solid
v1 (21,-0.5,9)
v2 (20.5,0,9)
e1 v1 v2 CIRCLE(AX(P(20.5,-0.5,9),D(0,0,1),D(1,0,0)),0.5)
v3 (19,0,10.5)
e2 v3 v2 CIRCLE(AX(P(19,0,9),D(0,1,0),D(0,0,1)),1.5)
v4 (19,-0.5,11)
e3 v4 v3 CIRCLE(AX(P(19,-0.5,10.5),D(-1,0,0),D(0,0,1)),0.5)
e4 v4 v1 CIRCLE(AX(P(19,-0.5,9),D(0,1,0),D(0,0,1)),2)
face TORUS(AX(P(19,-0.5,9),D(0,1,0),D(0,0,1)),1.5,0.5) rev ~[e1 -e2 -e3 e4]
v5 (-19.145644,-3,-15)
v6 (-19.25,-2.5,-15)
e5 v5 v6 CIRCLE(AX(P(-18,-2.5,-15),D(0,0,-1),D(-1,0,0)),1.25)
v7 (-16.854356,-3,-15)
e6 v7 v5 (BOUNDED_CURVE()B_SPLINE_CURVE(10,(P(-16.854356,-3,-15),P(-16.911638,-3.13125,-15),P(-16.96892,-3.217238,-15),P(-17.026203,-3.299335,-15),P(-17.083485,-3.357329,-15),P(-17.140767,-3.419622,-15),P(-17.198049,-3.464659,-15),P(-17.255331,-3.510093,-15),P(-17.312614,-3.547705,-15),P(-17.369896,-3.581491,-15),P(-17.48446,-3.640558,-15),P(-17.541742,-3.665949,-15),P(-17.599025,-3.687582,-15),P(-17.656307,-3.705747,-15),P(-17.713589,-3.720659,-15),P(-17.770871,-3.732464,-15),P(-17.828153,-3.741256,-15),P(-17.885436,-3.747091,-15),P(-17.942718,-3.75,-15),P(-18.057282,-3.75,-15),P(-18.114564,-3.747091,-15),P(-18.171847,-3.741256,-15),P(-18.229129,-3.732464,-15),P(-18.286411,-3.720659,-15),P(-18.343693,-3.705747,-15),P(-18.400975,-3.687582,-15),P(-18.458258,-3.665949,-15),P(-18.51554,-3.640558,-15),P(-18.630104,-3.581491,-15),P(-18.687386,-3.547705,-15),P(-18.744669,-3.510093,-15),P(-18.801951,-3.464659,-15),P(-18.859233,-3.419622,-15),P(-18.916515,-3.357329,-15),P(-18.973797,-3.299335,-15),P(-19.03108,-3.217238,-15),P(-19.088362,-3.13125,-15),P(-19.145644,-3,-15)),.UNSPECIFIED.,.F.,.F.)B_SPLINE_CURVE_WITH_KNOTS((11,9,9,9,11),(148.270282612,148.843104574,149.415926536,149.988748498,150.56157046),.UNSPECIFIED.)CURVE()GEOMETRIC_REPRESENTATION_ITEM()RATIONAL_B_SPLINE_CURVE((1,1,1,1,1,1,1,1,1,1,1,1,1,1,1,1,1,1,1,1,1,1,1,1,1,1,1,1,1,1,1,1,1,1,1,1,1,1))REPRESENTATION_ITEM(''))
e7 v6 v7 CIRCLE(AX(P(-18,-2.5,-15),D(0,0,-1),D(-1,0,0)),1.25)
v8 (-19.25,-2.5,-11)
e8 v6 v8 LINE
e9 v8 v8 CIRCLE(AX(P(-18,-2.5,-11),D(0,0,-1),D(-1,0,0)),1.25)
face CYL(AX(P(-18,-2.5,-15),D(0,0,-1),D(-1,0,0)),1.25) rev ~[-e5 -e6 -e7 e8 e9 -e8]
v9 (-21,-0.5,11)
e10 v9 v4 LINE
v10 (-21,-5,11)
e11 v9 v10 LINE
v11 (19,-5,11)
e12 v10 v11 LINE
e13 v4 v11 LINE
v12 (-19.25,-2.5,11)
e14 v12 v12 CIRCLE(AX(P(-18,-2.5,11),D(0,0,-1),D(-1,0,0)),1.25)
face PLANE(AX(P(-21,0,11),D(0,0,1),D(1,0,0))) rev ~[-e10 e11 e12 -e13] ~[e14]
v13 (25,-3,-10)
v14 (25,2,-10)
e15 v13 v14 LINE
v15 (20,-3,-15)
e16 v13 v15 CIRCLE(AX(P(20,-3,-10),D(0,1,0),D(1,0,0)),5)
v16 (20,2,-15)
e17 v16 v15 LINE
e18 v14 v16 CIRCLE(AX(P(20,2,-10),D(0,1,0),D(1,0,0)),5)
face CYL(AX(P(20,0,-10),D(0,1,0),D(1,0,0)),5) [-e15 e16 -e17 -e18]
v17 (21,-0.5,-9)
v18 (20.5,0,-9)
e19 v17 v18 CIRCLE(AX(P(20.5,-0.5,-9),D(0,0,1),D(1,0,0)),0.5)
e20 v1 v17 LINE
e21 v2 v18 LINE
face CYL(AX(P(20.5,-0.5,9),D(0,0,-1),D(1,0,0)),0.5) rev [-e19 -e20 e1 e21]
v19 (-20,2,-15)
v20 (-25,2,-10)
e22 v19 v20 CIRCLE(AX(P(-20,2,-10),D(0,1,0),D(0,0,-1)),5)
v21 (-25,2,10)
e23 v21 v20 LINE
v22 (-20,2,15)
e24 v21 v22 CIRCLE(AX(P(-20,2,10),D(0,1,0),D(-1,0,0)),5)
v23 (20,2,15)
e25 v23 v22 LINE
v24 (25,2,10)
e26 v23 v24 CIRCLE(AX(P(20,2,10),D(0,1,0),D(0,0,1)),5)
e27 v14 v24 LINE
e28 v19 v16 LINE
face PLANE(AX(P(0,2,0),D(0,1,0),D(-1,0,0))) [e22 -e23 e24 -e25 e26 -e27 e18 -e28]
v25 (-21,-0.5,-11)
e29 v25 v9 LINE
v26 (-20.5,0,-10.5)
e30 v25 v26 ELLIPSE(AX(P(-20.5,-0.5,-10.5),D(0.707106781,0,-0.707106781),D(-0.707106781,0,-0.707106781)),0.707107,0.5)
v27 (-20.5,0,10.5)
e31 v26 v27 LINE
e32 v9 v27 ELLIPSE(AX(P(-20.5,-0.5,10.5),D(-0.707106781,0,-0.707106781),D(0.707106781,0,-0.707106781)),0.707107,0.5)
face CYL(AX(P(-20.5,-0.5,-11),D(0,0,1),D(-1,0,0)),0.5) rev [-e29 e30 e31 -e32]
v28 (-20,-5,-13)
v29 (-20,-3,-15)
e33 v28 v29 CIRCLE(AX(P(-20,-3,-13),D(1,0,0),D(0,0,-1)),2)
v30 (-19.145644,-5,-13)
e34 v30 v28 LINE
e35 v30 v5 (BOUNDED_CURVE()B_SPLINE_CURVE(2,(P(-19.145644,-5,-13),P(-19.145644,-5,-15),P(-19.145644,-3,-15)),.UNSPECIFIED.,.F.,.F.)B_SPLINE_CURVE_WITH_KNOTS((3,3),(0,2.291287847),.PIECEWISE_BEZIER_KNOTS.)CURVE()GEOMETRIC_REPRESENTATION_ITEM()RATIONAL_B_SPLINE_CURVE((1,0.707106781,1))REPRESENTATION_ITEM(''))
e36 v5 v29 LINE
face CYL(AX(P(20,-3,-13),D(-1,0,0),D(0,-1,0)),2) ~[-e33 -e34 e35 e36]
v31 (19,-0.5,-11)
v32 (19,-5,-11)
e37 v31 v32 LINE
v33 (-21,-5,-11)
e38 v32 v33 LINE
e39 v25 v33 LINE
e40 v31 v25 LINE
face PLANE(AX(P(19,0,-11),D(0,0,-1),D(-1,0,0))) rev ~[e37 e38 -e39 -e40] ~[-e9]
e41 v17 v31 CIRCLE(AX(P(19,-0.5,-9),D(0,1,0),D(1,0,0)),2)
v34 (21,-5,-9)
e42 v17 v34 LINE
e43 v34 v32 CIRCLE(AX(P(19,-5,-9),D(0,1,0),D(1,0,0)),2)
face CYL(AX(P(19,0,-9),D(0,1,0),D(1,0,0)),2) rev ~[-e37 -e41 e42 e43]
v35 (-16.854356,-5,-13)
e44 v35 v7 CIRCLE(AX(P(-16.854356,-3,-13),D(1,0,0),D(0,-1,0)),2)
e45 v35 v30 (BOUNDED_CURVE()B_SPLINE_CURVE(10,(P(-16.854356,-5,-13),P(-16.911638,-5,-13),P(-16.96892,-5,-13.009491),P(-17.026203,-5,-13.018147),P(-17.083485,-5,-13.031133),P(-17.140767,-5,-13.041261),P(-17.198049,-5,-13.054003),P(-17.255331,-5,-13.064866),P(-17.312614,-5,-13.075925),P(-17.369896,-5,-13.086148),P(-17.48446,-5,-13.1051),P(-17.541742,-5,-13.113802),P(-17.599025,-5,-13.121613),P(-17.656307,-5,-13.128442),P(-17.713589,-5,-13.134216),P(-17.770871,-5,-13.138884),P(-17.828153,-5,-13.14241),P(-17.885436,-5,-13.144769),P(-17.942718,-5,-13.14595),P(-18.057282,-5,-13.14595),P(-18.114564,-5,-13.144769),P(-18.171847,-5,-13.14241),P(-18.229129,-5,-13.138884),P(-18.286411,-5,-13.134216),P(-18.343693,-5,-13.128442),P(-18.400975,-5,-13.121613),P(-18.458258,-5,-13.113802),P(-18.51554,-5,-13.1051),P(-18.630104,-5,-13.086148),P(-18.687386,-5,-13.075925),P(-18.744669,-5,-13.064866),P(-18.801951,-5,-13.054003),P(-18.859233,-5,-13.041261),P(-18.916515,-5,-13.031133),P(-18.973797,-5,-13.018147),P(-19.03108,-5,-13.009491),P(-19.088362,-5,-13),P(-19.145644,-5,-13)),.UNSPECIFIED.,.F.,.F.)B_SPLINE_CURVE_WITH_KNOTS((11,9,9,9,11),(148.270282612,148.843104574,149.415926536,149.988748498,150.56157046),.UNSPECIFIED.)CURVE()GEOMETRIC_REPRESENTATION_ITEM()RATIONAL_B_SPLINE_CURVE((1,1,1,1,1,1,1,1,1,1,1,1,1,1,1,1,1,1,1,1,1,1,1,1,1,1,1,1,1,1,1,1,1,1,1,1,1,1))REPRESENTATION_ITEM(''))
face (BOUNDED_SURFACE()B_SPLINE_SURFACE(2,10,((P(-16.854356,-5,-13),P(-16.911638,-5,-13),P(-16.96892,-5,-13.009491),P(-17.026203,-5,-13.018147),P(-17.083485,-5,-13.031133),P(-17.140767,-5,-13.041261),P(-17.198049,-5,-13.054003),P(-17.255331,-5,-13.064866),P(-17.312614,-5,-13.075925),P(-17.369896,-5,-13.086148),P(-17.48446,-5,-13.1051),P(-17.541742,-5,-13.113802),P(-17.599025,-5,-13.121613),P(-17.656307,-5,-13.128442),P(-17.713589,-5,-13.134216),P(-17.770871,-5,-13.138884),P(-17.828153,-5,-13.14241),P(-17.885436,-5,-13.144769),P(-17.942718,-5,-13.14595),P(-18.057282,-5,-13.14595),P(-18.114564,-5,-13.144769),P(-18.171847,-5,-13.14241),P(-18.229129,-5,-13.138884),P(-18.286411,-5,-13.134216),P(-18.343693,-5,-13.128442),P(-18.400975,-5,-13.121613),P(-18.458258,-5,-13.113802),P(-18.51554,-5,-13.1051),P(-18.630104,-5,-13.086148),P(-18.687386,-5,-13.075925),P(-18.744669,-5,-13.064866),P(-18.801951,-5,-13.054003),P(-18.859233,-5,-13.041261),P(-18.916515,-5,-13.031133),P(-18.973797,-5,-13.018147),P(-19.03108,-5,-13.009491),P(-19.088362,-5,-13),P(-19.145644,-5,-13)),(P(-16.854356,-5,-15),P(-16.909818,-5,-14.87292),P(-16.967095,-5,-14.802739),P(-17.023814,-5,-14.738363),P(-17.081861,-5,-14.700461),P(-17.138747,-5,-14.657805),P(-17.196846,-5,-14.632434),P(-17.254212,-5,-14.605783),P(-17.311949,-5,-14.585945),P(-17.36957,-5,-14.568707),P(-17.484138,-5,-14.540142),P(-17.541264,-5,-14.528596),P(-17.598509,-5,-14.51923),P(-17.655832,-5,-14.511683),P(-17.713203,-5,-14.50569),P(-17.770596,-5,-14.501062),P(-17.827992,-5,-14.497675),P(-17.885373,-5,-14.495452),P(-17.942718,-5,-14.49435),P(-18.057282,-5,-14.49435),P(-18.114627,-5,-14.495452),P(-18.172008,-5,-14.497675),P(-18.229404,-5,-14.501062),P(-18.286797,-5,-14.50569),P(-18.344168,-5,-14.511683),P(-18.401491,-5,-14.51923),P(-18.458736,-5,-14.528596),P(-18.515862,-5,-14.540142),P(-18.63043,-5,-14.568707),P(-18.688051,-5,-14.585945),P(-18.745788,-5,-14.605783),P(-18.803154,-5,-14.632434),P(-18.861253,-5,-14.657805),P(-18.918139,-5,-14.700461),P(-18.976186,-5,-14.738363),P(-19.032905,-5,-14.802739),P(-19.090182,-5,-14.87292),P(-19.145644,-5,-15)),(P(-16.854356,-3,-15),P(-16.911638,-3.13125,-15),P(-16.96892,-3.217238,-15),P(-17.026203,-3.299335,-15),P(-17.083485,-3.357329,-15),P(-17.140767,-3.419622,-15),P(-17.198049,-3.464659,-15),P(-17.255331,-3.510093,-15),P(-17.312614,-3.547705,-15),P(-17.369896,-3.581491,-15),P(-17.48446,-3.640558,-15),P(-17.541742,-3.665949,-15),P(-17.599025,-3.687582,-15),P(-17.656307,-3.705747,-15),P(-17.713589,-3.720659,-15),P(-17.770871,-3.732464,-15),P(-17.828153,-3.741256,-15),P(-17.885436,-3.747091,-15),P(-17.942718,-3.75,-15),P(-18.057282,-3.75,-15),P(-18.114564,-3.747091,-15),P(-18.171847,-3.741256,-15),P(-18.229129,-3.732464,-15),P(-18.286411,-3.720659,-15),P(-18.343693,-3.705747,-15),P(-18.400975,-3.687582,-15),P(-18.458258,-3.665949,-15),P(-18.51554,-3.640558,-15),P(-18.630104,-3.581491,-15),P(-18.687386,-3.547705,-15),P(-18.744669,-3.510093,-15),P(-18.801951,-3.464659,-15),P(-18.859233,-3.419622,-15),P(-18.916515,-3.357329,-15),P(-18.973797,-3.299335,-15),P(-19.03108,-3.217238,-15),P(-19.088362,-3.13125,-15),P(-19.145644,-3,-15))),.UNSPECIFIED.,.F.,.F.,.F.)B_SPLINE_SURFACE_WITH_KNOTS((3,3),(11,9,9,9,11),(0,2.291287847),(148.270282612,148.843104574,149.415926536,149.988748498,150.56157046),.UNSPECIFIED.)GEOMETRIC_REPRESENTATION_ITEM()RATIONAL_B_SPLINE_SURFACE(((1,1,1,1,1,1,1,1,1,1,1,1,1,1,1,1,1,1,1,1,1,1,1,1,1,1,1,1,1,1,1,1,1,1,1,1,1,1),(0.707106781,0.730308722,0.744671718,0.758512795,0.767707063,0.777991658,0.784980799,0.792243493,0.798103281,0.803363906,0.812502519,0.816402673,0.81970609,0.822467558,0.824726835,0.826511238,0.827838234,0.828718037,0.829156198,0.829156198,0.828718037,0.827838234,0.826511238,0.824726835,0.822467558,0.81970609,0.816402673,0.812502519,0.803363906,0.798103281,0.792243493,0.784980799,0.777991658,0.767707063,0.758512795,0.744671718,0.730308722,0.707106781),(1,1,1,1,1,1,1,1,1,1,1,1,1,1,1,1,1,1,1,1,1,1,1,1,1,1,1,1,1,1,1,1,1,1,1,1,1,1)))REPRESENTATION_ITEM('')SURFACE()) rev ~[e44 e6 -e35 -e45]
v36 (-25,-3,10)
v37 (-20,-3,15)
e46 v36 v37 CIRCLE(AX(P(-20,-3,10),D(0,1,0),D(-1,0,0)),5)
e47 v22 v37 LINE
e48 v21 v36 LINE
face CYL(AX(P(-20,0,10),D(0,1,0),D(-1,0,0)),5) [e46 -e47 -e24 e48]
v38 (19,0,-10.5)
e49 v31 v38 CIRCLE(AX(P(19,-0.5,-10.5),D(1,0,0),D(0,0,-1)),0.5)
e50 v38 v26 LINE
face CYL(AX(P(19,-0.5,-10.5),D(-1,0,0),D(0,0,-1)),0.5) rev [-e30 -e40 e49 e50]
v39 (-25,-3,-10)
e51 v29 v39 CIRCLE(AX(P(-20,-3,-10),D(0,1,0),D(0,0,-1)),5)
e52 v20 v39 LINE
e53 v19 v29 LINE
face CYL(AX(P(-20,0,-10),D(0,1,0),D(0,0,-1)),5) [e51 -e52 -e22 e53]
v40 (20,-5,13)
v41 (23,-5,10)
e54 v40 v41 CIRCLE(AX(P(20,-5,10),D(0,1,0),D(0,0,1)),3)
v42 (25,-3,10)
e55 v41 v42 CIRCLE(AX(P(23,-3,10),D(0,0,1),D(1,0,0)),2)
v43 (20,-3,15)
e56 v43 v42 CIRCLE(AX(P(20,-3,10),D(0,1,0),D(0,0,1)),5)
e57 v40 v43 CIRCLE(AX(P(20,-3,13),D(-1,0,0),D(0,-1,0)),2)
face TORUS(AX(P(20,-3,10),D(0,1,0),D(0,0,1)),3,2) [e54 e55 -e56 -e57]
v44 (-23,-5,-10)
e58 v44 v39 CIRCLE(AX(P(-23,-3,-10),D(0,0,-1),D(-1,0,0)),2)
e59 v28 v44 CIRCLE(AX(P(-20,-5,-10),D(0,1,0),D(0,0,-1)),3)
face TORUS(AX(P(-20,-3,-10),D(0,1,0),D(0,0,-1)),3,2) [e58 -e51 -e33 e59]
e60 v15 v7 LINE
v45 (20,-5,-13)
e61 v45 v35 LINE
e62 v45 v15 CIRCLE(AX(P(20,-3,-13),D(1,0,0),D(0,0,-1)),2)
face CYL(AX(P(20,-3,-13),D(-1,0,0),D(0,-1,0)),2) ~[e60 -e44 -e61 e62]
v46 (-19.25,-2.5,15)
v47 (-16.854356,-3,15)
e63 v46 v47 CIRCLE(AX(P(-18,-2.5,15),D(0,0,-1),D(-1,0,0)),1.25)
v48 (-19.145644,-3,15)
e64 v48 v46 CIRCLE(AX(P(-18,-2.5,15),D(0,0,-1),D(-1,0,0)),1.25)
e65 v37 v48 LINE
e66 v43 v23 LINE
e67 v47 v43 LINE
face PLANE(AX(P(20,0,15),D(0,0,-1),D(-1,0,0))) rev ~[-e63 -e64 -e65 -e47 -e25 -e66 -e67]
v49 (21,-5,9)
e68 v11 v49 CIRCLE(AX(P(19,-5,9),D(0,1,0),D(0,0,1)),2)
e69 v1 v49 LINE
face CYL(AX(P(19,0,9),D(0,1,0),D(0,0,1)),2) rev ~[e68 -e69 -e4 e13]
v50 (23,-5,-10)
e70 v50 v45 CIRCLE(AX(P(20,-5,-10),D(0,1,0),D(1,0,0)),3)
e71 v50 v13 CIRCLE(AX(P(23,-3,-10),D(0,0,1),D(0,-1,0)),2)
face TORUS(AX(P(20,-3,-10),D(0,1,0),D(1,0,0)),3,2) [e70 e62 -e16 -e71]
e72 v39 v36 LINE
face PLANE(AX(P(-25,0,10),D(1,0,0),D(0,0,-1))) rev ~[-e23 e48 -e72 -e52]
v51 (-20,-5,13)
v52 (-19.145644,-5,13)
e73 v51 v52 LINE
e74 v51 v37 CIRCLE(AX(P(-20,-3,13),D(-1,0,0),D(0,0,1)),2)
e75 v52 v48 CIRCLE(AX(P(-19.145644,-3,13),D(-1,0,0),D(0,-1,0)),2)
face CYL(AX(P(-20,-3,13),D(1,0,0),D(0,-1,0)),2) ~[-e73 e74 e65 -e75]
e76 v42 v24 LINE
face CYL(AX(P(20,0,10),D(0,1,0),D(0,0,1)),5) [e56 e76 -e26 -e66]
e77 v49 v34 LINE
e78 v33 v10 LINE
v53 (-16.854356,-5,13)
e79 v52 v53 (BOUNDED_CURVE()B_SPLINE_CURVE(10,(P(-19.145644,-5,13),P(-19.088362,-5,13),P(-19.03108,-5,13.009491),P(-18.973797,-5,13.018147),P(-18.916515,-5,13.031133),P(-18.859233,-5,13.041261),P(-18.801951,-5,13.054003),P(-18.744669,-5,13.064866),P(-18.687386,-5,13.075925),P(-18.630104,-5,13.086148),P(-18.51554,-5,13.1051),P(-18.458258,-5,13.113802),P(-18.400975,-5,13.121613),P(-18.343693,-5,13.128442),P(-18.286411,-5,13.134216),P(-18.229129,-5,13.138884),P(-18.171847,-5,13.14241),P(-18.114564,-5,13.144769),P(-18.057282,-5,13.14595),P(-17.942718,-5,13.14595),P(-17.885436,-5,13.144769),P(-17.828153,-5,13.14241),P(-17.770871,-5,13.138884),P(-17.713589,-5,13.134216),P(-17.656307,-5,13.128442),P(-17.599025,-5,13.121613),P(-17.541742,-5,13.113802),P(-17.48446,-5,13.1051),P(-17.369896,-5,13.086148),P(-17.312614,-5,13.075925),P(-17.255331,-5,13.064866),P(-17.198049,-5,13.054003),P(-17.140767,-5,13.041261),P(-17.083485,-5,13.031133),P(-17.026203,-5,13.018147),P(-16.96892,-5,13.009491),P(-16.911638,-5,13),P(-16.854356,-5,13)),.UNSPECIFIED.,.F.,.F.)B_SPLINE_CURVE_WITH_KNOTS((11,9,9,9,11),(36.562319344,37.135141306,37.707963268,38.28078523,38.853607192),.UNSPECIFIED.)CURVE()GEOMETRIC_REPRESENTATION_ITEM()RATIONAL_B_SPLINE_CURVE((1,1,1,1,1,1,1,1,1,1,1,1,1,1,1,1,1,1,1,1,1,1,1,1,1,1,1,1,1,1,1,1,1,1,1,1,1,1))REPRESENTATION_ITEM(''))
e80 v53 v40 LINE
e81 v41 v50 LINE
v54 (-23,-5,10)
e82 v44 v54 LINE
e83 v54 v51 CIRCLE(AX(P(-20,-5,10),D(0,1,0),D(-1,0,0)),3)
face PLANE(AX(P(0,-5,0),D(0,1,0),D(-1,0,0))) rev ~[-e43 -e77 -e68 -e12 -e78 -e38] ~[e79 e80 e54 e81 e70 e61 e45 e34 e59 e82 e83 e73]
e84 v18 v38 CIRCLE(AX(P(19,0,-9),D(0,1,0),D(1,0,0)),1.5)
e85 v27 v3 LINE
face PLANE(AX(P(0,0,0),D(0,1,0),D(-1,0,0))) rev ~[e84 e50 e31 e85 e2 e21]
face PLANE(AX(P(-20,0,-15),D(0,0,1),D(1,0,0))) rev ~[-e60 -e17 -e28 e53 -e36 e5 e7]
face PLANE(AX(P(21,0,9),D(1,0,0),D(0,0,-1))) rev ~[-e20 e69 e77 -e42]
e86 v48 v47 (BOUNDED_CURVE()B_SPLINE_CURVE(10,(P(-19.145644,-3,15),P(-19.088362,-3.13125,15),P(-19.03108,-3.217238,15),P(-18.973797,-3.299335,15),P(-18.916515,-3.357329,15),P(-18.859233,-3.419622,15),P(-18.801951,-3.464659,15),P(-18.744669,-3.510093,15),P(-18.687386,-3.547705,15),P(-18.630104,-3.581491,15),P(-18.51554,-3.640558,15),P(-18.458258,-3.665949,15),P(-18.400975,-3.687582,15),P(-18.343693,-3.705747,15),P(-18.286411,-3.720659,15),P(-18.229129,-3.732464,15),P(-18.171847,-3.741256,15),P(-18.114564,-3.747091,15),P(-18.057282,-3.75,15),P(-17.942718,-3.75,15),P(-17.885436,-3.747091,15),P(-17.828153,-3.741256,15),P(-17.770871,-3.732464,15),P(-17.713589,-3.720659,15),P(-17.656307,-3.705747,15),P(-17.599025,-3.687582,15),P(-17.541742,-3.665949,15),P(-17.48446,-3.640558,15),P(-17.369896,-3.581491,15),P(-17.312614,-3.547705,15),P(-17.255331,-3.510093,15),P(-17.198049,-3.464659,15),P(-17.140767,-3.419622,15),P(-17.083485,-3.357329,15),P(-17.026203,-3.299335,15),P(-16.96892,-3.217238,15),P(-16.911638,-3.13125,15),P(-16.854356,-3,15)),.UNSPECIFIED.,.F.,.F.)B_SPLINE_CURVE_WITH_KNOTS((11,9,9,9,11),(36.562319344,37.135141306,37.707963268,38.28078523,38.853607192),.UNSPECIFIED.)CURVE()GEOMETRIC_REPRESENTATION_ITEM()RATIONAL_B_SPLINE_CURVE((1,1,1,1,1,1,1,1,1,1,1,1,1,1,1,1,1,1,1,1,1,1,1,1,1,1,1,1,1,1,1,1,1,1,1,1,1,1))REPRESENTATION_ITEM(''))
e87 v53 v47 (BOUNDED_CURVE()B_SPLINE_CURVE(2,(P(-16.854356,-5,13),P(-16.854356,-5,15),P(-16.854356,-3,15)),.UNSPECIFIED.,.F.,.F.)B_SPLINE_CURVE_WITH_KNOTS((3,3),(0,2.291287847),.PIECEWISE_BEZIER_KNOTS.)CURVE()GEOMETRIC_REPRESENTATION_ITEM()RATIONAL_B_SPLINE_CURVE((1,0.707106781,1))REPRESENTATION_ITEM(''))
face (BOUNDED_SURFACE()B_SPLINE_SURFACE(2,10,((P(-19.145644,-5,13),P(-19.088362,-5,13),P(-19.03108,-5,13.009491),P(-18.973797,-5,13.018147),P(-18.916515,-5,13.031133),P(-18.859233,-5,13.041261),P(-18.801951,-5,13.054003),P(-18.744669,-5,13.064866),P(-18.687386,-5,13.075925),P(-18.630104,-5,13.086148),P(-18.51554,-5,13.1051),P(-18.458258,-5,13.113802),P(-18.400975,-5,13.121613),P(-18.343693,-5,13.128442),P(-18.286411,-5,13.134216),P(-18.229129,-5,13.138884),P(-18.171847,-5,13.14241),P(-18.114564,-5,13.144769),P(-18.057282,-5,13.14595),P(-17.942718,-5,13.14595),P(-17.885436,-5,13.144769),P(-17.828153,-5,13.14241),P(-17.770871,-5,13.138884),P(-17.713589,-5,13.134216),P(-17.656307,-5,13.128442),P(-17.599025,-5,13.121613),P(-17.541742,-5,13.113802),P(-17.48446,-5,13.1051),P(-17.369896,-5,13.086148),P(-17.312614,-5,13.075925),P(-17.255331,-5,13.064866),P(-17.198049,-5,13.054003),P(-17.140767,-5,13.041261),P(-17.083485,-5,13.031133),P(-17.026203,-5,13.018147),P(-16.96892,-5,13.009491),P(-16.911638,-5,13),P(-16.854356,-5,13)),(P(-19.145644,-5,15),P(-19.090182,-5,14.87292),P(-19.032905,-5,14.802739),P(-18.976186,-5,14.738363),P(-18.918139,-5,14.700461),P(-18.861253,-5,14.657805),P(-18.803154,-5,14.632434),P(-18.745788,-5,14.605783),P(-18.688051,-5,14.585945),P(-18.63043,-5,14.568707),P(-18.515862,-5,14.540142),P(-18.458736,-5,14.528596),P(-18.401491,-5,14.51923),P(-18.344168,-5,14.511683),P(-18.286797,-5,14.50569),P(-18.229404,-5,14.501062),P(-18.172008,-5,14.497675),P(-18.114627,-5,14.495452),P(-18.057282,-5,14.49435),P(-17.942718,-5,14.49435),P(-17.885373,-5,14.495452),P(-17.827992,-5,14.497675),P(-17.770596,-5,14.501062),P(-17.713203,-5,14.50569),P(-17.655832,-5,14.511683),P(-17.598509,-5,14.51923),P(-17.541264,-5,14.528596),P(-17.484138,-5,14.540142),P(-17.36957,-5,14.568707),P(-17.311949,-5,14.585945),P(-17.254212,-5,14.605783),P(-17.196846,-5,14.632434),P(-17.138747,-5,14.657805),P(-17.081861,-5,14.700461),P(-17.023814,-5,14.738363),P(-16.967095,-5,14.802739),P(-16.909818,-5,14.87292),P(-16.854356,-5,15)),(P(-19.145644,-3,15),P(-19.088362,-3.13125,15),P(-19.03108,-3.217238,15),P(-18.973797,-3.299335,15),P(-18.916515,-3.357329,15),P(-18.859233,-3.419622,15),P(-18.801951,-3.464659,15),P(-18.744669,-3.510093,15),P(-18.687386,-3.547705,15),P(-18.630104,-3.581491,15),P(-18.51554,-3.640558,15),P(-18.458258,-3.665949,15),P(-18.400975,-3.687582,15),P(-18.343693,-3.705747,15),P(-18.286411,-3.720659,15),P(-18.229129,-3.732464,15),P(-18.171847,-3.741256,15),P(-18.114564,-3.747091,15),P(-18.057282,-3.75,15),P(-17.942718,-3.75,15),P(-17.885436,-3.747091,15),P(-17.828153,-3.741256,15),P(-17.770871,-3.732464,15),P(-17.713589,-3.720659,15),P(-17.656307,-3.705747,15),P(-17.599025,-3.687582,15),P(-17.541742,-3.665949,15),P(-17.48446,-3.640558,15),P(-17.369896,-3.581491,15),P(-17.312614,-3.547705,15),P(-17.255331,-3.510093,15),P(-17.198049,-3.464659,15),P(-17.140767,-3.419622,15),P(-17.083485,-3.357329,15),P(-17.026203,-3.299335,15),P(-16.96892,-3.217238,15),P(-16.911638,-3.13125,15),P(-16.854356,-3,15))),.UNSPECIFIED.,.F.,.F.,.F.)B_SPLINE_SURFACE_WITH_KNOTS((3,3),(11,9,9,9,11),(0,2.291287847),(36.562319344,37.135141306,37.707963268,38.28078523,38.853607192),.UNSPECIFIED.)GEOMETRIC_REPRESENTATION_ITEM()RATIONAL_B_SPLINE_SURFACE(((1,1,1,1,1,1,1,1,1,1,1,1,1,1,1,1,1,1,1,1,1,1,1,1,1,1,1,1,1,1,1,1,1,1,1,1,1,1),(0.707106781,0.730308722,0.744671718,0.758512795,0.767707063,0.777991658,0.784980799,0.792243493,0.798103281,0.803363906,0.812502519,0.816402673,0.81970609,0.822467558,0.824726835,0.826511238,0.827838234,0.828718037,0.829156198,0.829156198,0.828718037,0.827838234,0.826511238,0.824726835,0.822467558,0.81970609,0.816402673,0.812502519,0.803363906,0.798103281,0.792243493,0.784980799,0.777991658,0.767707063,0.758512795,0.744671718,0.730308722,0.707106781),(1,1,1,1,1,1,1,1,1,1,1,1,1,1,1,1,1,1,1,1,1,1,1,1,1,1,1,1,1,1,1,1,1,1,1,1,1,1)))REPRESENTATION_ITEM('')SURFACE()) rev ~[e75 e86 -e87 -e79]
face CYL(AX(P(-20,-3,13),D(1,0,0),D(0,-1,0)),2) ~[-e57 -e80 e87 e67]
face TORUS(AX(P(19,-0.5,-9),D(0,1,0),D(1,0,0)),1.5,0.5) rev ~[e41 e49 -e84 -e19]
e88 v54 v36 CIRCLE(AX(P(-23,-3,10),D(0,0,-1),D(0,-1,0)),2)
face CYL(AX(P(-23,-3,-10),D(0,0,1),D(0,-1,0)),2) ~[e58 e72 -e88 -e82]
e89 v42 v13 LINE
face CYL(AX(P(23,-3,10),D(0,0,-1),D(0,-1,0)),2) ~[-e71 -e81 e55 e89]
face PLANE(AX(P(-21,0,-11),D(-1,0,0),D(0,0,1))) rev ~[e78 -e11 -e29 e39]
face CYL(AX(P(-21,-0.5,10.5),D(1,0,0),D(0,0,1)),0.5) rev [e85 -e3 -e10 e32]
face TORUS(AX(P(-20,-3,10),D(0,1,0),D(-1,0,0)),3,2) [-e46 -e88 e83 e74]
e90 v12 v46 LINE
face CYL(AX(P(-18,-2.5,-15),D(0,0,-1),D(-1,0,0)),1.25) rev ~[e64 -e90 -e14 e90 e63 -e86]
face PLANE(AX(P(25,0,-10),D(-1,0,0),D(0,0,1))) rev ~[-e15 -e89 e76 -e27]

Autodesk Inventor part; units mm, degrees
ref_plane "YZ Plane" through (0, 0, 0) normal (1, 0, 0) x (0, 1, 0)
ref_plane "XZ Plane" through (0, 0, 0) normal (0, 1, 0) x (-1, 0, 0)
ref_plane "XY Plane" through (0, 0, 0) normal (0, 0, 1) x (1, 0, 0)
sketch "Boceto1" plane through (0, 0, 0) normal (0, 1, 0) x (-1, 0, 0)
  line L0 (-20, 15) -> (20, 15)
  line L1 (25, 10) -> (25, -10)
  line L2 (20, -15) -> (-20, -15)
  line L3 (-25, -10) -> (-25, 10)
  line L4 (-25, 15) -> (25, -15) construction
  line L5 (25, 15) -> (-25, -15) construction
  line L6 (21, -11) -> (21, 11)
  line L7 (21, 11) -> (-19, 11)
  line L8 (-21, 9) -> (-21, -9)
  line L9 (-19, -11) -> (21, -11)
  arc A0 (25, 10) -> (20, 15) centre (20, 10) ccw
  arc A1 (20, -15) -> (25, -10) centre (20, -10) ccw
  arc A2 (-25, -10) -> (-20, -15) centre (-20, -10) ccw
  arc A3 (-20, 15) -> (-25, 10) centre (-20, 10) ccw
  arc A4 (-19, 11) -> (-21, 9) centre (-19, 9) ccw
  arc A5 (-21, -9) -> (-19, -11) centre (-19, -9) ccw
  point P0 (0, 0)
  dimension "d0" = 50
  dimension "d1" = 30
  dimension "d2" = 4
  dimension "d3" = 5
  dimension "d4" = 2
extrude "Extrusión1" add sketch "Boceto1" along normal blind 2 contours L0 A0 L1 A1 L2 A2 L3 A3 | L9 A5 L8 A4 L7 L6
extrude "Extrusión2" add sketch "Boceto1" against normal blind 5
sketch "Boceto3" plane through (20, 2, -15) normal (0, 0, -1) x (-1, 0, 0)
  line L0 (1, -2) -> (41, -2) projected
  line L1 (1, -2) -> (1, -7) projected
  line L2 (41, -7) -> (1, -7) projected
  line L3 (41, -2) -> (41, -7) projected
  line L4 (41, -4.5) -> (38, -4.5)
  circle A0 centre (38, -4.5) radius 2.5
  circle A1 centre (38, -4.5) radius 1.25
  point P0 (20, -2)
  dimension "d9" = 3
  dimension "d10" = 2.5
extrude "Extrusión3" cut sketch "Boceto3" against normal through all contours A1
fillet "Empalme1" radius 2 8 edges at (-23.5355, -5, -13.5355) (0, -5, -15) (23.5355, -5, -13.5355) (25, -5, 0) (23.5355, -5, 13.5355) (0, -5, 15) (-23.5355, -5, 13.5355) (-25, -5, 0)
fillet "Empalme2" radius 0.5 6 edges at (20.4142, 0, 10.4142) (21, 0, 0) (20.4142, 0, -10.4142) (-1, 0, -11) (-1, 0, 11) (-21, 0, 0)
properties part number "Base2"
